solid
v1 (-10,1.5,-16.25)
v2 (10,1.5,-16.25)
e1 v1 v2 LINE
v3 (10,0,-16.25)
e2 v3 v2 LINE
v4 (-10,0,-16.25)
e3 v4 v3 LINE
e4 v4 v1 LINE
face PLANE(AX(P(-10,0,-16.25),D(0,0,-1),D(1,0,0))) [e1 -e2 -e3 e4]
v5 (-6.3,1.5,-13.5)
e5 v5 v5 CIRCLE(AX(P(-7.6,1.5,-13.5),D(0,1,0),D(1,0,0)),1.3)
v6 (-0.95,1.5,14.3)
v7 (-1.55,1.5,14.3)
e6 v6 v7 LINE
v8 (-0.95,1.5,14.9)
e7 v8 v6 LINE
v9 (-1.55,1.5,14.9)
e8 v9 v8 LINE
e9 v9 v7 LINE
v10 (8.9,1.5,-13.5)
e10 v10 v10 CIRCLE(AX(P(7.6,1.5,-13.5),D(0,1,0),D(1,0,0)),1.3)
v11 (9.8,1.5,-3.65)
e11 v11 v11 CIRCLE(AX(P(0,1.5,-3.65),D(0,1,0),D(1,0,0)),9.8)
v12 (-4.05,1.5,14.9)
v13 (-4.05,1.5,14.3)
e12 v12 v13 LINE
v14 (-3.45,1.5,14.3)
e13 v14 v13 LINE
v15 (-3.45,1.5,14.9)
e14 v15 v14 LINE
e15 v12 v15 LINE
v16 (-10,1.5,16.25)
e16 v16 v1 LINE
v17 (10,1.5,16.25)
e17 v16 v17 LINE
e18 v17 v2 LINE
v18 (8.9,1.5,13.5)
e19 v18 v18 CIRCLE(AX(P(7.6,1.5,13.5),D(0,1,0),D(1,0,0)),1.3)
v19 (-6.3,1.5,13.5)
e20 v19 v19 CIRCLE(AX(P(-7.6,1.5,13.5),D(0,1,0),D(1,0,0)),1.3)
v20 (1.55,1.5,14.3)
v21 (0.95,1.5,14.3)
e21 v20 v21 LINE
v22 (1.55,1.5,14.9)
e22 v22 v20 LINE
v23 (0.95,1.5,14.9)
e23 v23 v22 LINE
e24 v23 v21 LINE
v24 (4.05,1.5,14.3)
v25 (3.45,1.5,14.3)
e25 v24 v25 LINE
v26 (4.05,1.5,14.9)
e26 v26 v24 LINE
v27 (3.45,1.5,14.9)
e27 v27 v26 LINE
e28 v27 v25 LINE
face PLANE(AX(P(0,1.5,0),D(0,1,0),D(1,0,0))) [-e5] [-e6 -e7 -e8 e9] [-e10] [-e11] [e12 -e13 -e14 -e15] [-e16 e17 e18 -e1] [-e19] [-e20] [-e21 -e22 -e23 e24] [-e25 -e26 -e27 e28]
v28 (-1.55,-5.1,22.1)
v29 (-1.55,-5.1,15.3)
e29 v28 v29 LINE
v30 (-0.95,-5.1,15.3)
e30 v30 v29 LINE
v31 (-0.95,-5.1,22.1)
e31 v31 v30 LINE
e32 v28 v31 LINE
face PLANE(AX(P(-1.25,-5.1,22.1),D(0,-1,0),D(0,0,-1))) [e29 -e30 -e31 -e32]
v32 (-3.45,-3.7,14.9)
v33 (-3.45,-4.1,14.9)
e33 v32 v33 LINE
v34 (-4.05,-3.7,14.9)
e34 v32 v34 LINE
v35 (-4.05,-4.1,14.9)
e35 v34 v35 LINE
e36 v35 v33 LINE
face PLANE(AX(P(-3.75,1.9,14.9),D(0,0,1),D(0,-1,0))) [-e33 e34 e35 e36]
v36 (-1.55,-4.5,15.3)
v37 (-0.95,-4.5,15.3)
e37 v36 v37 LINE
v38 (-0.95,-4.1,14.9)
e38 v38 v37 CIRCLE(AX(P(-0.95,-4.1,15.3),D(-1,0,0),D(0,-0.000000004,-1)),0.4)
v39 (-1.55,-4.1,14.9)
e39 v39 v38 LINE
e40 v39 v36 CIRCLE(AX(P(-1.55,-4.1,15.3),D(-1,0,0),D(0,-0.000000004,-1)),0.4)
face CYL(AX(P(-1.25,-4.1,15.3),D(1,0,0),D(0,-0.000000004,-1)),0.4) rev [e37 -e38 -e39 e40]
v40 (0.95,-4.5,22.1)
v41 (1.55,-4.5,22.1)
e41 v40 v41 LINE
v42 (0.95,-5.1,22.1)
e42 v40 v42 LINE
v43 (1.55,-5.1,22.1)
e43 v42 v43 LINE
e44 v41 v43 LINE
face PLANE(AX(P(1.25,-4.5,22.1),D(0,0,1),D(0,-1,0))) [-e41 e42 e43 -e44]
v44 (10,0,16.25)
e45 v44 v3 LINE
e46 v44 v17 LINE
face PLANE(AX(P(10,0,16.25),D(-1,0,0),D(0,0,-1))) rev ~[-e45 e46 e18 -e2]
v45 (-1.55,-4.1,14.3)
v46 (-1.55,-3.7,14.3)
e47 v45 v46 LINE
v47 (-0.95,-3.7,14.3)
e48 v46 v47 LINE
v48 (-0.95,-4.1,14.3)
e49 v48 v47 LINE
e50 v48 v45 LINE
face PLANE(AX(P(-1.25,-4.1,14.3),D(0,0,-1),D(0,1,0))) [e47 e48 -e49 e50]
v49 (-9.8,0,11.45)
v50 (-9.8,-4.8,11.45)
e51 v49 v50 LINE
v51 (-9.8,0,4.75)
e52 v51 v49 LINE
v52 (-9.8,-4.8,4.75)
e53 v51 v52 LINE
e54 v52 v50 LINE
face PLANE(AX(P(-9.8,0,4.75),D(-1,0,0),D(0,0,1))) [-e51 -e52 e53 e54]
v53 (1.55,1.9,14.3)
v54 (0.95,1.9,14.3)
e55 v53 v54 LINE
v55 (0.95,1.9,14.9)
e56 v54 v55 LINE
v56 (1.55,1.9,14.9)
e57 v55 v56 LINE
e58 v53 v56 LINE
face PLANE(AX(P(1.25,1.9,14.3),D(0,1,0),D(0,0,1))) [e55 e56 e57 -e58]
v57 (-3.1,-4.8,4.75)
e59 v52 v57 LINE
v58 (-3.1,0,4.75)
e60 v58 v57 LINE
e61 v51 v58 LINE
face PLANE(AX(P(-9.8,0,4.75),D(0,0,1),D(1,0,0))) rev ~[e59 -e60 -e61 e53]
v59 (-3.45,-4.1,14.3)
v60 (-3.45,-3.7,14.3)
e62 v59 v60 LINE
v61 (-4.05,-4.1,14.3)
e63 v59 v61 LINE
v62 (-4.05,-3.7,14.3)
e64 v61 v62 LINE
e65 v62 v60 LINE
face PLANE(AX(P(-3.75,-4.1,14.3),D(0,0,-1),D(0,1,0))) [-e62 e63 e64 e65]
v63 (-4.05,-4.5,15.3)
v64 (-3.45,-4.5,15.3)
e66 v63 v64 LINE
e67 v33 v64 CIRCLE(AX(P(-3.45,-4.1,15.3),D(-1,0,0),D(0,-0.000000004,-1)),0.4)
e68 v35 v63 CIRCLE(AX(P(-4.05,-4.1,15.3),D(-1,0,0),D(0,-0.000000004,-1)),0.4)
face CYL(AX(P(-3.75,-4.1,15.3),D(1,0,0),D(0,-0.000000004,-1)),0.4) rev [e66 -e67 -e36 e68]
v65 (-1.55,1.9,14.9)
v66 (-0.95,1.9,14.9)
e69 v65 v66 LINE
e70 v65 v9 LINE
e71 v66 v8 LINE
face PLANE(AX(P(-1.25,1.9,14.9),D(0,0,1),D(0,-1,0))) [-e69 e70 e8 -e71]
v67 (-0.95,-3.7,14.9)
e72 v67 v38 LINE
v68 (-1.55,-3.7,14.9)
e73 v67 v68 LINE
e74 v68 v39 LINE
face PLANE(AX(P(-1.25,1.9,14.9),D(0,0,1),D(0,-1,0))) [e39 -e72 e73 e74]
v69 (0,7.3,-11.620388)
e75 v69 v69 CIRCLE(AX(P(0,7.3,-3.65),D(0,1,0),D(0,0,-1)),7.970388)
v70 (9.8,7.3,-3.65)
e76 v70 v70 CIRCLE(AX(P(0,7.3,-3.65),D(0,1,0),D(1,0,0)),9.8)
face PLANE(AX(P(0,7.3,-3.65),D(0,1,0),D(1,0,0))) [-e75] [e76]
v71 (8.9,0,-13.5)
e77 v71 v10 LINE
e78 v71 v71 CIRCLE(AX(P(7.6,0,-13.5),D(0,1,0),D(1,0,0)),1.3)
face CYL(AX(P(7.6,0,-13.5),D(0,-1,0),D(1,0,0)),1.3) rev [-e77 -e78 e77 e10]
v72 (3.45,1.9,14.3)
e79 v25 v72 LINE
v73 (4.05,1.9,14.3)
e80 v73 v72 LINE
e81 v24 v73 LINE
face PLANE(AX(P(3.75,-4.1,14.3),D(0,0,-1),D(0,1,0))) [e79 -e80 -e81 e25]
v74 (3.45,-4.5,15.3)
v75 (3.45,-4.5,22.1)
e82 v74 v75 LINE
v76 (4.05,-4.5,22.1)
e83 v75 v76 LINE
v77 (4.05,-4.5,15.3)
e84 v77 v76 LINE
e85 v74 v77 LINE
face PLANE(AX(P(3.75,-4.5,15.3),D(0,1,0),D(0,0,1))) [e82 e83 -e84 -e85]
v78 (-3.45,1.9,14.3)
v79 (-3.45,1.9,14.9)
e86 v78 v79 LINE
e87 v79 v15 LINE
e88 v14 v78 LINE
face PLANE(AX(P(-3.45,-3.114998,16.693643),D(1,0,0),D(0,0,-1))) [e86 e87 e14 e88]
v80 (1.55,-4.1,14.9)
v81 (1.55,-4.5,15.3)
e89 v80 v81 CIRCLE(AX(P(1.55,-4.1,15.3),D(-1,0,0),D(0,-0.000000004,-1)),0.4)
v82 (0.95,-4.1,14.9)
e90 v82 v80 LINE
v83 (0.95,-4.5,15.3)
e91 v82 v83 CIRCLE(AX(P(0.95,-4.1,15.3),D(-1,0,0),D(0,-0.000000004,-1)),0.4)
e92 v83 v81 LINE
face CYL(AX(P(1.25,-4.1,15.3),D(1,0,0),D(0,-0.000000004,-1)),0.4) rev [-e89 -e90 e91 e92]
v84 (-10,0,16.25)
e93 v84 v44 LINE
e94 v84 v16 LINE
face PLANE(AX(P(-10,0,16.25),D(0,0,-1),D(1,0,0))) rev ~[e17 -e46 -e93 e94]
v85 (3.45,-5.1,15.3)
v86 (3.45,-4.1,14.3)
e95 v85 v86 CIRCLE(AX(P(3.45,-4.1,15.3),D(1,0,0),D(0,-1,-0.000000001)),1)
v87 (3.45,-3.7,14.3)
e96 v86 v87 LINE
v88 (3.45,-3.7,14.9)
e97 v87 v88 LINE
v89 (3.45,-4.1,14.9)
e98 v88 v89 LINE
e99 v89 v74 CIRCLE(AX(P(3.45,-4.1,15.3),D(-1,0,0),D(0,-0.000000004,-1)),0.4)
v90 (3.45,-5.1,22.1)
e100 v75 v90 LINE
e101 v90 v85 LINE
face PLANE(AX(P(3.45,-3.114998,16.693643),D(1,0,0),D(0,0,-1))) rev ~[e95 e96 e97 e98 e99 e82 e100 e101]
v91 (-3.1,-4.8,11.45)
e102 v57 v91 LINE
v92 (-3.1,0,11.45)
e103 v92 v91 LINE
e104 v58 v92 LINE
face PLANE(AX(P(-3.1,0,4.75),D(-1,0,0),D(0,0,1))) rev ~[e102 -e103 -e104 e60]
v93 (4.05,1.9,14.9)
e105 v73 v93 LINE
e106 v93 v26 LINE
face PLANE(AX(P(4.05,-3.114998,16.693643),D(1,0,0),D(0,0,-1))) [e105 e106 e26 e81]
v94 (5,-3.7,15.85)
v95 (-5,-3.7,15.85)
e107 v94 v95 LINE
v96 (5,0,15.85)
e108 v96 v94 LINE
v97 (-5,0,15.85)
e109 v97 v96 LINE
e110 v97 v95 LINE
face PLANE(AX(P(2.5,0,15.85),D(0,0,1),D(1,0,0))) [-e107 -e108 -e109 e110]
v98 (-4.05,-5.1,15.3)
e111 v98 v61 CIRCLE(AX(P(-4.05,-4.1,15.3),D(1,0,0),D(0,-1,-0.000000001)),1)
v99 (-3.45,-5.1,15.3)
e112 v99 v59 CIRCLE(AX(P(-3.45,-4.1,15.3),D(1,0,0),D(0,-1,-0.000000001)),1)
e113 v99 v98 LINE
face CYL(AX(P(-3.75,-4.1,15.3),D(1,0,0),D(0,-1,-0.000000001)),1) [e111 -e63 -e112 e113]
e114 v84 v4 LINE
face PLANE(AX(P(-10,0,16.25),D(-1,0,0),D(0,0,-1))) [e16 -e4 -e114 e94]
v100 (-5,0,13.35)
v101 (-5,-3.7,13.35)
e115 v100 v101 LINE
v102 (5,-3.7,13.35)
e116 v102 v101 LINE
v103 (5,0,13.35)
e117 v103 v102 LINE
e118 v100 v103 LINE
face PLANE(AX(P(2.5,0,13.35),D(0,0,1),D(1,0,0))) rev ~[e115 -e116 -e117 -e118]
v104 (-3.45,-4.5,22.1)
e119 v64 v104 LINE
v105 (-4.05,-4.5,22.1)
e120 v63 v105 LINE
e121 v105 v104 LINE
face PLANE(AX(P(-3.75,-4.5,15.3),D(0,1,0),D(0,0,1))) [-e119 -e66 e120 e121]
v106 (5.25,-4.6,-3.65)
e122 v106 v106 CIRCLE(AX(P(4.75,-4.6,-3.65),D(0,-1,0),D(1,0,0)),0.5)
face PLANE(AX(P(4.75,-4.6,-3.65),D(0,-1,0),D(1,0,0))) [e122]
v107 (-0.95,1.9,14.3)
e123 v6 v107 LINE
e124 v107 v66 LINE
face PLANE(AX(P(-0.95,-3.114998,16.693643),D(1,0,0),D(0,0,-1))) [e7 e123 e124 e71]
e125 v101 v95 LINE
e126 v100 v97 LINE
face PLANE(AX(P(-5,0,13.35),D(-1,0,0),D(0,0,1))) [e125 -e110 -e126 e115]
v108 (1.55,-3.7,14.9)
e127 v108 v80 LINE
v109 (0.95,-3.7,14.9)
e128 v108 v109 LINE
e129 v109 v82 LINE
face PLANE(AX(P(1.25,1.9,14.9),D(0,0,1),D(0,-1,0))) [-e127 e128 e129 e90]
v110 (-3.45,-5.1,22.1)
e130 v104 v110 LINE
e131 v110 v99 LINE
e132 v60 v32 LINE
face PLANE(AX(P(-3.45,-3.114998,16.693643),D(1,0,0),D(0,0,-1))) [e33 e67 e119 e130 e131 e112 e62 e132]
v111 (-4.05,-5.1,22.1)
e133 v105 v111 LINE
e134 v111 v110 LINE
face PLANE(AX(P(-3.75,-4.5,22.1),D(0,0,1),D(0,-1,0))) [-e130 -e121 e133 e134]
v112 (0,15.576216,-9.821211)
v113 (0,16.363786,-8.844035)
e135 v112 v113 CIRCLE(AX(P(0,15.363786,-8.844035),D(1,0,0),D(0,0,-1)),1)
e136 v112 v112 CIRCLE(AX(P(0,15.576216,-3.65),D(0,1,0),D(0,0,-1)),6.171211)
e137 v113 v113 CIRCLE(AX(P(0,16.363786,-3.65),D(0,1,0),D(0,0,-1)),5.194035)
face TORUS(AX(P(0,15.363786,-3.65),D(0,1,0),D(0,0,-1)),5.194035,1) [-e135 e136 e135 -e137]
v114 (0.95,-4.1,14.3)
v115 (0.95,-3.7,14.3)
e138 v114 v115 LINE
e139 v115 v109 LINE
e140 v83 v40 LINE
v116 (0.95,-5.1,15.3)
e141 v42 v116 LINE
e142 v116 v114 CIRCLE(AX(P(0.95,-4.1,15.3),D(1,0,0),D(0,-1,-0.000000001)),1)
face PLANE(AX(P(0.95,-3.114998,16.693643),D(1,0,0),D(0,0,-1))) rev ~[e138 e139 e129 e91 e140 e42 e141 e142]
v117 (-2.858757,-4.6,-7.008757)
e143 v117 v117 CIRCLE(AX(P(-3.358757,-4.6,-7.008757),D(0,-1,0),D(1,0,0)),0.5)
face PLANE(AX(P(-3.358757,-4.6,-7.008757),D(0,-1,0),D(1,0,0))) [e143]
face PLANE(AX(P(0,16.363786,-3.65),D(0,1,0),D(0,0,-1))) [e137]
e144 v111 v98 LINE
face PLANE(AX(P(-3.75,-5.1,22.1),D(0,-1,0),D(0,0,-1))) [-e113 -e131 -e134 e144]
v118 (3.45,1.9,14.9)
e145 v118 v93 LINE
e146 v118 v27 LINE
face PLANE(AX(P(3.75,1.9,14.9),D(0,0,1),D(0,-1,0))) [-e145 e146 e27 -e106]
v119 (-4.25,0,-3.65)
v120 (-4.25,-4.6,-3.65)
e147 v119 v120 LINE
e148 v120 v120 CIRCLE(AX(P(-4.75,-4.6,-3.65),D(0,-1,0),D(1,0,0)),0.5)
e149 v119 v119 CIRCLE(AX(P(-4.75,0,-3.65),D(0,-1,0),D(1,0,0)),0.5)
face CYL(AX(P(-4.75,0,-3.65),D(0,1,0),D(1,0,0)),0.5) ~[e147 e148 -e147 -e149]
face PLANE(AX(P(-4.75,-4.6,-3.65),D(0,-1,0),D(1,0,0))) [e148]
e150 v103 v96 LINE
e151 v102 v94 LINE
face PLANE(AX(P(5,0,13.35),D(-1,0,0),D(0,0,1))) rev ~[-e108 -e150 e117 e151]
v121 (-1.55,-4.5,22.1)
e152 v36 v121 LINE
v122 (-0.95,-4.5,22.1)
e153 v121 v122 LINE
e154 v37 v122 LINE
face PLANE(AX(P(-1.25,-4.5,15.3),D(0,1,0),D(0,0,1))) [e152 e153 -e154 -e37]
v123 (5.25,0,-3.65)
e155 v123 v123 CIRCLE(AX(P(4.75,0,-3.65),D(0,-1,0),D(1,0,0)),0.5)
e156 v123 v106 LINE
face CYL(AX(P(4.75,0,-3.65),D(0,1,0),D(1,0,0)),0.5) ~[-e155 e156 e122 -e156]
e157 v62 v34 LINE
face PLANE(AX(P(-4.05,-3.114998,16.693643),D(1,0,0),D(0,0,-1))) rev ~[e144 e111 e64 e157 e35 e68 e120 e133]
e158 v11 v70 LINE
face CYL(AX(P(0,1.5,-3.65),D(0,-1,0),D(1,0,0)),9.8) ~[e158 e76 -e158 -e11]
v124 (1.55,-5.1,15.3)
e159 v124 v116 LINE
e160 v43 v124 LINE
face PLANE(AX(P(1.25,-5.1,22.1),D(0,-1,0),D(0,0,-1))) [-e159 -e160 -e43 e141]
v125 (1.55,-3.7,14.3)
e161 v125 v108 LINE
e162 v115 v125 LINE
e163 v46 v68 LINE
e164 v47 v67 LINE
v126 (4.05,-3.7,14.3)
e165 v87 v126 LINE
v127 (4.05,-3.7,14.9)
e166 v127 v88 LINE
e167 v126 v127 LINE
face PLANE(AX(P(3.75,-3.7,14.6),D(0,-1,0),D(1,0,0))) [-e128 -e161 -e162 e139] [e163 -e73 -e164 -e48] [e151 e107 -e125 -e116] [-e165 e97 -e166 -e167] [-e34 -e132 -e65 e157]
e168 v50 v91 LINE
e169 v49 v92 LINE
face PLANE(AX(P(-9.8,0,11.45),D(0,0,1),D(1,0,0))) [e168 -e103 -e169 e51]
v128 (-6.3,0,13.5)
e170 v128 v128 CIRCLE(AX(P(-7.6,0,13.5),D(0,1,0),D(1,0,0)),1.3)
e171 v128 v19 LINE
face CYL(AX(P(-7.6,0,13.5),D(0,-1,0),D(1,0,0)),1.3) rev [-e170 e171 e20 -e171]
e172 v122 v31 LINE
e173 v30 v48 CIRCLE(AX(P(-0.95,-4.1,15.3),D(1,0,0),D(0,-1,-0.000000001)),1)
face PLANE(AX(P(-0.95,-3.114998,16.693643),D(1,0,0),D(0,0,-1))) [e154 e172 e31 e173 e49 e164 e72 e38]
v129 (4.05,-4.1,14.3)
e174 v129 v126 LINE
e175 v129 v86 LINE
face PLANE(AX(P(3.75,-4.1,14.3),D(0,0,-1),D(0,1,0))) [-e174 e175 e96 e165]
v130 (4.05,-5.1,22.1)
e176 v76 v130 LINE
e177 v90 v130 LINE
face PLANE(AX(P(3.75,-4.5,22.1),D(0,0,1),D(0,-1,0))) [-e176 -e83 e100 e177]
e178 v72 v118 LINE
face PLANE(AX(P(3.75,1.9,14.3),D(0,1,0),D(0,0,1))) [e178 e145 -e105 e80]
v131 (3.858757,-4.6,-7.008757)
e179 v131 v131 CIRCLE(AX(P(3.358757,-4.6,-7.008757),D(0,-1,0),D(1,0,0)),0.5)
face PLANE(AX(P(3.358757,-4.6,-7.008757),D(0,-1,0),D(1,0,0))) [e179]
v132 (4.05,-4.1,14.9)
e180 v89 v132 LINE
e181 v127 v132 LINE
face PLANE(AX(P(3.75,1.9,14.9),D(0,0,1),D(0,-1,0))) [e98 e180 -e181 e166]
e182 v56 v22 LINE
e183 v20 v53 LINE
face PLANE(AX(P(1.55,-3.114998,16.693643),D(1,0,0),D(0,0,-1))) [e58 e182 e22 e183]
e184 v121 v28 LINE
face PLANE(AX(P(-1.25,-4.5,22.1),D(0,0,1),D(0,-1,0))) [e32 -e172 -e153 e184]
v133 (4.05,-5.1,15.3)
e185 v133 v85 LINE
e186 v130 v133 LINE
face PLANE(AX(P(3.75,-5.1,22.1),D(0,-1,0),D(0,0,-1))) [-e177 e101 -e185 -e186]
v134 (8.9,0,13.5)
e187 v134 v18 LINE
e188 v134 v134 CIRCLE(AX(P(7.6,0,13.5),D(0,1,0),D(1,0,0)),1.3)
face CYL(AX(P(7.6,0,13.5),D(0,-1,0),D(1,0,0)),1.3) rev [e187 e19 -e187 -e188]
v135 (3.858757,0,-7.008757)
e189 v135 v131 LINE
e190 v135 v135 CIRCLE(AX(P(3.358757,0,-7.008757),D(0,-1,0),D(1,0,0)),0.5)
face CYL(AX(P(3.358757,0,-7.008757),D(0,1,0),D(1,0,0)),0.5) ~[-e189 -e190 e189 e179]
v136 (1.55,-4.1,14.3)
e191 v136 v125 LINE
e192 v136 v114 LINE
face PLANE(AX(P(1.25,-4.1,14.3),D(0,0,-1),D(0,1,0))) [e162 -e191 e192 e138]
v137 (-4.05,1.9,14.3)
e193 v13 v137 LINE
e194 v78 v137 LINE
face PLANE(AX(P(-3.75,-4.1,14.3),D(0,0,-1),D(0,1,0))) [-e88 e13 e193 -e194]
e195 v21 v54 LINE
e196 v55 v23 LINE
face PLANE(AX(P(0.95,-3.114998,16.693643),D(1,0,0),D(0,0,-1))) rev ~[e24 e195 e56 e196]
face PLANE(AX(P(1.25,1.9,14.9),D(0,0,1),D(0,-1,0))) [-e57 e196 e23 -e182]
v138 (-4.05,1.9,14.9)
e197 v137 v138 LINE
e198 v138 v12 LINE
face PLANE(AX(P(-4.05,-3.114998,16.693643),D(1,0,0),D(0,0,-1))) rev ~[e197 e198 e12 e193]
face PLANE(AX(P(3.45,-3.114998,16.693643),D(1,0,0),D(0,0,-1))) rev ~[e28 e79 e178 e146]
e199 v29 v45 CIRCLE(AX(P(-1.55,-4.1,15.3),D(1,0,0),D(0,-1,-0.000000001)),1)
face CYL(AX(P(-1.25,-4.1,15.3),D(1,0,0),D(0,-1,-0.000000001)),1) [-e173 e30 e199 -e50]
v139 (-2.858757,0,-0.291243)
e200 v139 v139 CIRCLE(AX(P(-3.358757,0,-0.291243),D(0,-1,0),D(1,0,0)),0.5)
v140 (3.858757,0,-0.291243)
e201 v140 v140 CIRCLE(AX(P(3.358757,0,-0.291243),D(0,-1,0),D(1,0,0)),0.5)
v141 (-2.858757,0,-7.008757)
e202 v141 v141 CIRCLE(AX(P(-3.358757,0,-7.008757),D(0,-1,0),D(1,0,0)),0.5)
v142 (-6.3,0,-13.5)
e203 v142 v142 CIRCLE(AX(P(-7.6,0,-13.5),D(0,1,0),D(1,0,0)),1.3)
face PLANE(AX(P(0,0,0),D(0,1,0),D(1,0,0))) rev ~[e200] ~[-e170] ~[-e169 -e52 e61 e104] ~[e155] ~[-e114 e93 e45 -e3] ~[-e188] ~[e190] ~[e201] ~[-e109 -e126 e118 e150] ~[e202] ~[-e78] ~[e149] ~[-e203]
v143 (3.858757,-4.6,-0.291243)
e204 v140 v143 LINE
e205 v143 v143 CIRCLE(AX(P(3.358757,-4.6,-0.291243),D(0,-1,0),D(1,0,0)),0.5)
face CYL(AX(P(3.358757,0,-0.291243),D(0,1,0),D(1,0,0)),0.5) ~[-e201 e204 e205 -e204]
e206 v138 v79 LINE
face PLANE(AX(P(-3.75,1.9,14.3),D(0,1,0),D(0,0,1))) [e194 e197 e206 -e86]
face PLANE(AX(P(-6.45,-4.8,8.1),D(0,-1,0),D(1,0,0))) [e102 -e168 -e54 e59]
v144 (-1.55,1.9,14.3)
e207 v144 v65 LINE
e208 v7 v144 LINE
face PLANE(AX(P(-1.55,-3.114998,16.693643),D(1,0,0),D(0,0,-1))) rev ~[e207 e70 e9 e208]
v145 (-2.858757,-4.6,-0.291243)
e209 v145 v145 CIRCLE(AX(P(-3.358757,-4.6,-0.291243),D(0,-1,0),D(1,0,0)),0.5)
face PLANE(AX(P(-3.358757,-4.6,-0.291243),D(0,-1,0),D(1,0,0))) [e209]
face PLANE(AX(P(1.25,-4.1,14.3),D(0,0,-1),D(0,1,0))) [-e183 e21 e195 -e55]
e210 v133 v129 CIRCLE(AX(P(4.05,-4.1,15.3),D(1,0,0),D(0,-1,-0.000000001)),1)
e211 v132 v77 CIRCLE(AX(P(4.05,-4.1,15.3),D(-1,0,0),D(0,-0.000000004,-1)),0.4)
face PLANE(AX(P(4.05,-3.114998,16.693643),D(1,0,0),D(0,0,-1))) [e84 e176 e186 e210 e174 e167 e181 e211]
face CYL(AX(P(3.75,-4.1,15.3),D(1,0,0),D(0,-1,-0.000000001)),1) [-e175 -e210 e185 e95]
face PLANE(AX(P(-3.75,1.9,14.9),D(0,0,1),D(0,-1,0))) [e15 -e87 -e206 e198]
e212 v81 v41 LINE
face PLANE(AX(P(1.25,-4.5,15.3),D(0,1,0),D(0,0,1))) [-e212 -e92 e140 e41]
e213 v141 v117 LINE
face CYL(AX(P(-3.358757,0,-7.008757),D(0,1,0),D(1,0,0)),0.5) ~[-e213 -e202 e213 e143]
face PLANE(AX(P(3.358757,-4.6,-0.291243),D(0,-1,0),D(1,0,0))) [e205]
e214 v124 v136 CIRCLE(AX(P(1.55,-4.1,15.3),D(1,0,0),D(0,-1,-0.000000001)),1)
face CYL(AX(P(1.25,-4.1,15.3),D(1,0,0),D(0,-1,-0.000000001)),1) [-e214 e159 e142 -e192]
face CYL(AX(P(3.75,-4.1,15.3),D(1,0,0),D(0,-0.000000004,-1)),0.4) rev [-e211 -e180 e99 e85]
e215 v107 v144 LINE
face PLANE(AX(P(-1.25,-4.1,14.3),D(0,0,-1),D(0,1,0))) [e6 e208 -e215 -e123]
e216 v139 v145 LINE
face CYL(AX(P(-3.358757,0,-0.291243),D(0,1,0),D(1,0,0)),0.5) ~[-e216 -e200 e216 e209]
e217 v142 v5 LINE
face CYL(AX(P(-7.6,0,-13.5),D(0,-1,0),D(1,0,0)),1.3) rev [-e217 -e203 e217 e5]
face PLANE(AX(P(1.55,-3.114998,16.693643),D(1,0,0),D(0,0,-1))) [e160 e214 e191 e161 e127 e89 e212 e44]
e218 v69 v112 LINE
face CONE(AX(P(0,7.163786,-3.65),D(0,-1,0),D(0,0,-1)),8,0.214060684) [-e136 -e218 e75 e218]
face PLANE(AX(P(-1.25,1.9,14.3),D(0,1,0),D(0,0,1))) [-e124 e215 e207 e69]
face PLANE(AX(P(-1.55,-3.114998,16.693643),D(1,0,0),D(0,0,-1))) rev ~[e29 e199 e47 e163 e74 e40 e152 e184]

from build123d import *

# Parameters (mm, degrees)
SKETCH_1_W                 = 20
SKETCH_1_H                 = 32.5
SKETCH_1_R                 = 1.3
EXTRUDE_1_DEPTH            = 1.5
SKETCH_2_R                 = 9.8
EXTRUDE_2_DEPTH            = 5.8
FILLET_1_R                 = 1
SKETCH_4_W                 = 6.7
SKETCH_4_H                 = 6.7
EXTRUDE_3_DEPTH            = 4.8
SKETCH_5_R                 = 0.5
EXTRUDE_4_DEPTH            = 4.6
SKETCH_6_W                 = 2.5
SKETCH_6_H                 = 2.5
EXTRUDE_5_DEPTH            = 3.7
EXTRUDE_6_DEPTH            = 0.3
PATTERN_LINEAR_1_COUNT     = 3
PATTERN_LINEAR_1_PITCH     = 2.5
PATTERN_LINEAR_1_COL_COUNT = 2
PATTERN_LINEAR_1_COL_PITCH = 2.5


with BuildPart() as part:
    # 草图1 → 凸台-拉伸1 (new body)
    with BuildSketch(Plane(origin=(0, 0, 0), x_dir=(1, 0, 0), z_dir=(0, 1, 0))):
        Rectangle(SKETCH_1_W, SKETCH_1_H)
        with Locations((7.6, 13.5)):
            Circle(SKETCH_1_R, mode=Mode.SUBTRACT)
        with Locations((-7.6, 13.5)):
            Circle(SKETCH_1_R, mode=Mode.SUBTRACT)
        with Locations((-7.6, -13.5)):
            Circle(SKETCH_1_R, mode=Mode.SUBTRACT)
        with Locations((7.6, -13.5)):
            Circle(SKETCH_1_R, mode=Mode.SUBTRACT)
    extrude(amount=EXTRUDE_1_DEPTH)

    # 草图2 → 凸台-拉伸2 (add)
    with BuildSketch(Plane(origin=(0, 1.5, 0), x_dir=(1, 0, 0), z_dir=(0, 1, 0))):
        with Locations((0, 3.65)):
            Circle(SKETCH_2_R)
    extrude(amount=EXTRUDE_2_DEPTH)

    # 草图3 → 旋转1 (revolve)
    with BuildSketch(Plane(origin=(0, 0, 0), x_dir=(0, 0, -1), z_dir=(1, 0, 0))):
        Polygon((3.65, 7.163786099), (11.65, 7.163786099), (9.65, 16.363786099), (3.65, 16.363786099), align=None)
    revolve(axis=Axis((0, 2.048350332, -3.65), (0, 1, 0)))

    # 圆角1
    fillet_1_edges = [part.edges().sort_by_distance(p)[0] for p in [
        (0, 16.363786099, 2.35),
    ]]
    fillet(fillet_1_edges, radius=FILLET_1_R)

    # 草图4 → 凸台-拉伸3 (add)
    with BuildSketch(Plane.XZ):
        with Locations((-6.45, 8.1)):
            Rectangle(SKETCH_4_W, SKETCH_4_H)
    extrude(amount=EXTRUDE_3_DEPTH)

    # 草图5 → 凸台-拉伸4 (add)
    with BuildSketch(Plane.XZ):
        with Locations((4.75, -3.65)):
            Circle(SKETCH_5_R)
        with Locations((3.358757211, -7.008757211)):
            Circle(SKETCH_5_R)
        with Locations((-3.358757211, -7.008757211)):
            Circle(SKETCH_5_R)
        with Locations((-4.75, -3.65)):
            Circle(SKETCH_5_R)
        with Locations((-3.358757211, -0.291242789)):
            Circle(SKETCH_5_R)
        with Locations((3.358757211, -0.291242789)):
            Circle(SKETCH_5_R)
    extrude(amount=EXTRUDE_4_DEPTH)

    # 草图6 → 凸台-拉伸5 (add)
    with BuildSketch(Plane.XZ):
        with Locations((1.25, 14.6)):
            Rectangle(SKETCH_6_W, SKETCH_6_H)
    extrude_5 = extrude(amount=EXTRUDE_5_DEPTH)

    # 草图7 → 凸台-拉伸6 (add, symmetric)
    with BuildSketch(Plane(origin=(1.25, 0, 0), x_dir=(0, 0, -1), z_dir=(1, 0, 0))):
        with BuildLine():
            Line((-14.3, 1.9), (-14.9, 1.9))
            Line((-14.9, 1.9), (-14.9, -4.1))
            ThreePointArc((-14.9, -4.1), (-15.017157288, -4.382842712), (-15.3, -4.5))
            Line((-15.3, -4.5), (-22.1, -4.5))
            Line((-22.1, -4.5), (-22.1, -5.1))
            Line((-22.1, -5.1), (-15.3, -5.1))
            ThreePointArc((-15.3, -5.1), (-14.592893219, -4.807106781), (-14.3, -4.1))
            Line((-14.3, -4.1), (-14.3, 1.9))
        make_face()
    extrude_6 = extrude(amount=EXTRUDE_6_DEPTH, both=True)

    # 阵列(线性)1: 凸台-拉伸5, 凸台-拉伸6 ×3
    with Locations(*[(-i * PATTERN_LINEAR_1_PITCH, 0, 0) for i in range(1, PATTERN_LINEAR_1_COUNT)]):
        add(extrude_5)
        add(extrude_6)

    # 阵列(线性)1 col: 凸台-拉伸5, 凸台-拉伸6 ×2
    with Locations(*[(i * PATTERN_LINEAR_1_COL_PITCH, 0, 0) for i in range(1, PATTERN_LINEAR_1_COL_COUNT)]):
        add(extrude_5)
        add(extrude_6)


solid = part.part
